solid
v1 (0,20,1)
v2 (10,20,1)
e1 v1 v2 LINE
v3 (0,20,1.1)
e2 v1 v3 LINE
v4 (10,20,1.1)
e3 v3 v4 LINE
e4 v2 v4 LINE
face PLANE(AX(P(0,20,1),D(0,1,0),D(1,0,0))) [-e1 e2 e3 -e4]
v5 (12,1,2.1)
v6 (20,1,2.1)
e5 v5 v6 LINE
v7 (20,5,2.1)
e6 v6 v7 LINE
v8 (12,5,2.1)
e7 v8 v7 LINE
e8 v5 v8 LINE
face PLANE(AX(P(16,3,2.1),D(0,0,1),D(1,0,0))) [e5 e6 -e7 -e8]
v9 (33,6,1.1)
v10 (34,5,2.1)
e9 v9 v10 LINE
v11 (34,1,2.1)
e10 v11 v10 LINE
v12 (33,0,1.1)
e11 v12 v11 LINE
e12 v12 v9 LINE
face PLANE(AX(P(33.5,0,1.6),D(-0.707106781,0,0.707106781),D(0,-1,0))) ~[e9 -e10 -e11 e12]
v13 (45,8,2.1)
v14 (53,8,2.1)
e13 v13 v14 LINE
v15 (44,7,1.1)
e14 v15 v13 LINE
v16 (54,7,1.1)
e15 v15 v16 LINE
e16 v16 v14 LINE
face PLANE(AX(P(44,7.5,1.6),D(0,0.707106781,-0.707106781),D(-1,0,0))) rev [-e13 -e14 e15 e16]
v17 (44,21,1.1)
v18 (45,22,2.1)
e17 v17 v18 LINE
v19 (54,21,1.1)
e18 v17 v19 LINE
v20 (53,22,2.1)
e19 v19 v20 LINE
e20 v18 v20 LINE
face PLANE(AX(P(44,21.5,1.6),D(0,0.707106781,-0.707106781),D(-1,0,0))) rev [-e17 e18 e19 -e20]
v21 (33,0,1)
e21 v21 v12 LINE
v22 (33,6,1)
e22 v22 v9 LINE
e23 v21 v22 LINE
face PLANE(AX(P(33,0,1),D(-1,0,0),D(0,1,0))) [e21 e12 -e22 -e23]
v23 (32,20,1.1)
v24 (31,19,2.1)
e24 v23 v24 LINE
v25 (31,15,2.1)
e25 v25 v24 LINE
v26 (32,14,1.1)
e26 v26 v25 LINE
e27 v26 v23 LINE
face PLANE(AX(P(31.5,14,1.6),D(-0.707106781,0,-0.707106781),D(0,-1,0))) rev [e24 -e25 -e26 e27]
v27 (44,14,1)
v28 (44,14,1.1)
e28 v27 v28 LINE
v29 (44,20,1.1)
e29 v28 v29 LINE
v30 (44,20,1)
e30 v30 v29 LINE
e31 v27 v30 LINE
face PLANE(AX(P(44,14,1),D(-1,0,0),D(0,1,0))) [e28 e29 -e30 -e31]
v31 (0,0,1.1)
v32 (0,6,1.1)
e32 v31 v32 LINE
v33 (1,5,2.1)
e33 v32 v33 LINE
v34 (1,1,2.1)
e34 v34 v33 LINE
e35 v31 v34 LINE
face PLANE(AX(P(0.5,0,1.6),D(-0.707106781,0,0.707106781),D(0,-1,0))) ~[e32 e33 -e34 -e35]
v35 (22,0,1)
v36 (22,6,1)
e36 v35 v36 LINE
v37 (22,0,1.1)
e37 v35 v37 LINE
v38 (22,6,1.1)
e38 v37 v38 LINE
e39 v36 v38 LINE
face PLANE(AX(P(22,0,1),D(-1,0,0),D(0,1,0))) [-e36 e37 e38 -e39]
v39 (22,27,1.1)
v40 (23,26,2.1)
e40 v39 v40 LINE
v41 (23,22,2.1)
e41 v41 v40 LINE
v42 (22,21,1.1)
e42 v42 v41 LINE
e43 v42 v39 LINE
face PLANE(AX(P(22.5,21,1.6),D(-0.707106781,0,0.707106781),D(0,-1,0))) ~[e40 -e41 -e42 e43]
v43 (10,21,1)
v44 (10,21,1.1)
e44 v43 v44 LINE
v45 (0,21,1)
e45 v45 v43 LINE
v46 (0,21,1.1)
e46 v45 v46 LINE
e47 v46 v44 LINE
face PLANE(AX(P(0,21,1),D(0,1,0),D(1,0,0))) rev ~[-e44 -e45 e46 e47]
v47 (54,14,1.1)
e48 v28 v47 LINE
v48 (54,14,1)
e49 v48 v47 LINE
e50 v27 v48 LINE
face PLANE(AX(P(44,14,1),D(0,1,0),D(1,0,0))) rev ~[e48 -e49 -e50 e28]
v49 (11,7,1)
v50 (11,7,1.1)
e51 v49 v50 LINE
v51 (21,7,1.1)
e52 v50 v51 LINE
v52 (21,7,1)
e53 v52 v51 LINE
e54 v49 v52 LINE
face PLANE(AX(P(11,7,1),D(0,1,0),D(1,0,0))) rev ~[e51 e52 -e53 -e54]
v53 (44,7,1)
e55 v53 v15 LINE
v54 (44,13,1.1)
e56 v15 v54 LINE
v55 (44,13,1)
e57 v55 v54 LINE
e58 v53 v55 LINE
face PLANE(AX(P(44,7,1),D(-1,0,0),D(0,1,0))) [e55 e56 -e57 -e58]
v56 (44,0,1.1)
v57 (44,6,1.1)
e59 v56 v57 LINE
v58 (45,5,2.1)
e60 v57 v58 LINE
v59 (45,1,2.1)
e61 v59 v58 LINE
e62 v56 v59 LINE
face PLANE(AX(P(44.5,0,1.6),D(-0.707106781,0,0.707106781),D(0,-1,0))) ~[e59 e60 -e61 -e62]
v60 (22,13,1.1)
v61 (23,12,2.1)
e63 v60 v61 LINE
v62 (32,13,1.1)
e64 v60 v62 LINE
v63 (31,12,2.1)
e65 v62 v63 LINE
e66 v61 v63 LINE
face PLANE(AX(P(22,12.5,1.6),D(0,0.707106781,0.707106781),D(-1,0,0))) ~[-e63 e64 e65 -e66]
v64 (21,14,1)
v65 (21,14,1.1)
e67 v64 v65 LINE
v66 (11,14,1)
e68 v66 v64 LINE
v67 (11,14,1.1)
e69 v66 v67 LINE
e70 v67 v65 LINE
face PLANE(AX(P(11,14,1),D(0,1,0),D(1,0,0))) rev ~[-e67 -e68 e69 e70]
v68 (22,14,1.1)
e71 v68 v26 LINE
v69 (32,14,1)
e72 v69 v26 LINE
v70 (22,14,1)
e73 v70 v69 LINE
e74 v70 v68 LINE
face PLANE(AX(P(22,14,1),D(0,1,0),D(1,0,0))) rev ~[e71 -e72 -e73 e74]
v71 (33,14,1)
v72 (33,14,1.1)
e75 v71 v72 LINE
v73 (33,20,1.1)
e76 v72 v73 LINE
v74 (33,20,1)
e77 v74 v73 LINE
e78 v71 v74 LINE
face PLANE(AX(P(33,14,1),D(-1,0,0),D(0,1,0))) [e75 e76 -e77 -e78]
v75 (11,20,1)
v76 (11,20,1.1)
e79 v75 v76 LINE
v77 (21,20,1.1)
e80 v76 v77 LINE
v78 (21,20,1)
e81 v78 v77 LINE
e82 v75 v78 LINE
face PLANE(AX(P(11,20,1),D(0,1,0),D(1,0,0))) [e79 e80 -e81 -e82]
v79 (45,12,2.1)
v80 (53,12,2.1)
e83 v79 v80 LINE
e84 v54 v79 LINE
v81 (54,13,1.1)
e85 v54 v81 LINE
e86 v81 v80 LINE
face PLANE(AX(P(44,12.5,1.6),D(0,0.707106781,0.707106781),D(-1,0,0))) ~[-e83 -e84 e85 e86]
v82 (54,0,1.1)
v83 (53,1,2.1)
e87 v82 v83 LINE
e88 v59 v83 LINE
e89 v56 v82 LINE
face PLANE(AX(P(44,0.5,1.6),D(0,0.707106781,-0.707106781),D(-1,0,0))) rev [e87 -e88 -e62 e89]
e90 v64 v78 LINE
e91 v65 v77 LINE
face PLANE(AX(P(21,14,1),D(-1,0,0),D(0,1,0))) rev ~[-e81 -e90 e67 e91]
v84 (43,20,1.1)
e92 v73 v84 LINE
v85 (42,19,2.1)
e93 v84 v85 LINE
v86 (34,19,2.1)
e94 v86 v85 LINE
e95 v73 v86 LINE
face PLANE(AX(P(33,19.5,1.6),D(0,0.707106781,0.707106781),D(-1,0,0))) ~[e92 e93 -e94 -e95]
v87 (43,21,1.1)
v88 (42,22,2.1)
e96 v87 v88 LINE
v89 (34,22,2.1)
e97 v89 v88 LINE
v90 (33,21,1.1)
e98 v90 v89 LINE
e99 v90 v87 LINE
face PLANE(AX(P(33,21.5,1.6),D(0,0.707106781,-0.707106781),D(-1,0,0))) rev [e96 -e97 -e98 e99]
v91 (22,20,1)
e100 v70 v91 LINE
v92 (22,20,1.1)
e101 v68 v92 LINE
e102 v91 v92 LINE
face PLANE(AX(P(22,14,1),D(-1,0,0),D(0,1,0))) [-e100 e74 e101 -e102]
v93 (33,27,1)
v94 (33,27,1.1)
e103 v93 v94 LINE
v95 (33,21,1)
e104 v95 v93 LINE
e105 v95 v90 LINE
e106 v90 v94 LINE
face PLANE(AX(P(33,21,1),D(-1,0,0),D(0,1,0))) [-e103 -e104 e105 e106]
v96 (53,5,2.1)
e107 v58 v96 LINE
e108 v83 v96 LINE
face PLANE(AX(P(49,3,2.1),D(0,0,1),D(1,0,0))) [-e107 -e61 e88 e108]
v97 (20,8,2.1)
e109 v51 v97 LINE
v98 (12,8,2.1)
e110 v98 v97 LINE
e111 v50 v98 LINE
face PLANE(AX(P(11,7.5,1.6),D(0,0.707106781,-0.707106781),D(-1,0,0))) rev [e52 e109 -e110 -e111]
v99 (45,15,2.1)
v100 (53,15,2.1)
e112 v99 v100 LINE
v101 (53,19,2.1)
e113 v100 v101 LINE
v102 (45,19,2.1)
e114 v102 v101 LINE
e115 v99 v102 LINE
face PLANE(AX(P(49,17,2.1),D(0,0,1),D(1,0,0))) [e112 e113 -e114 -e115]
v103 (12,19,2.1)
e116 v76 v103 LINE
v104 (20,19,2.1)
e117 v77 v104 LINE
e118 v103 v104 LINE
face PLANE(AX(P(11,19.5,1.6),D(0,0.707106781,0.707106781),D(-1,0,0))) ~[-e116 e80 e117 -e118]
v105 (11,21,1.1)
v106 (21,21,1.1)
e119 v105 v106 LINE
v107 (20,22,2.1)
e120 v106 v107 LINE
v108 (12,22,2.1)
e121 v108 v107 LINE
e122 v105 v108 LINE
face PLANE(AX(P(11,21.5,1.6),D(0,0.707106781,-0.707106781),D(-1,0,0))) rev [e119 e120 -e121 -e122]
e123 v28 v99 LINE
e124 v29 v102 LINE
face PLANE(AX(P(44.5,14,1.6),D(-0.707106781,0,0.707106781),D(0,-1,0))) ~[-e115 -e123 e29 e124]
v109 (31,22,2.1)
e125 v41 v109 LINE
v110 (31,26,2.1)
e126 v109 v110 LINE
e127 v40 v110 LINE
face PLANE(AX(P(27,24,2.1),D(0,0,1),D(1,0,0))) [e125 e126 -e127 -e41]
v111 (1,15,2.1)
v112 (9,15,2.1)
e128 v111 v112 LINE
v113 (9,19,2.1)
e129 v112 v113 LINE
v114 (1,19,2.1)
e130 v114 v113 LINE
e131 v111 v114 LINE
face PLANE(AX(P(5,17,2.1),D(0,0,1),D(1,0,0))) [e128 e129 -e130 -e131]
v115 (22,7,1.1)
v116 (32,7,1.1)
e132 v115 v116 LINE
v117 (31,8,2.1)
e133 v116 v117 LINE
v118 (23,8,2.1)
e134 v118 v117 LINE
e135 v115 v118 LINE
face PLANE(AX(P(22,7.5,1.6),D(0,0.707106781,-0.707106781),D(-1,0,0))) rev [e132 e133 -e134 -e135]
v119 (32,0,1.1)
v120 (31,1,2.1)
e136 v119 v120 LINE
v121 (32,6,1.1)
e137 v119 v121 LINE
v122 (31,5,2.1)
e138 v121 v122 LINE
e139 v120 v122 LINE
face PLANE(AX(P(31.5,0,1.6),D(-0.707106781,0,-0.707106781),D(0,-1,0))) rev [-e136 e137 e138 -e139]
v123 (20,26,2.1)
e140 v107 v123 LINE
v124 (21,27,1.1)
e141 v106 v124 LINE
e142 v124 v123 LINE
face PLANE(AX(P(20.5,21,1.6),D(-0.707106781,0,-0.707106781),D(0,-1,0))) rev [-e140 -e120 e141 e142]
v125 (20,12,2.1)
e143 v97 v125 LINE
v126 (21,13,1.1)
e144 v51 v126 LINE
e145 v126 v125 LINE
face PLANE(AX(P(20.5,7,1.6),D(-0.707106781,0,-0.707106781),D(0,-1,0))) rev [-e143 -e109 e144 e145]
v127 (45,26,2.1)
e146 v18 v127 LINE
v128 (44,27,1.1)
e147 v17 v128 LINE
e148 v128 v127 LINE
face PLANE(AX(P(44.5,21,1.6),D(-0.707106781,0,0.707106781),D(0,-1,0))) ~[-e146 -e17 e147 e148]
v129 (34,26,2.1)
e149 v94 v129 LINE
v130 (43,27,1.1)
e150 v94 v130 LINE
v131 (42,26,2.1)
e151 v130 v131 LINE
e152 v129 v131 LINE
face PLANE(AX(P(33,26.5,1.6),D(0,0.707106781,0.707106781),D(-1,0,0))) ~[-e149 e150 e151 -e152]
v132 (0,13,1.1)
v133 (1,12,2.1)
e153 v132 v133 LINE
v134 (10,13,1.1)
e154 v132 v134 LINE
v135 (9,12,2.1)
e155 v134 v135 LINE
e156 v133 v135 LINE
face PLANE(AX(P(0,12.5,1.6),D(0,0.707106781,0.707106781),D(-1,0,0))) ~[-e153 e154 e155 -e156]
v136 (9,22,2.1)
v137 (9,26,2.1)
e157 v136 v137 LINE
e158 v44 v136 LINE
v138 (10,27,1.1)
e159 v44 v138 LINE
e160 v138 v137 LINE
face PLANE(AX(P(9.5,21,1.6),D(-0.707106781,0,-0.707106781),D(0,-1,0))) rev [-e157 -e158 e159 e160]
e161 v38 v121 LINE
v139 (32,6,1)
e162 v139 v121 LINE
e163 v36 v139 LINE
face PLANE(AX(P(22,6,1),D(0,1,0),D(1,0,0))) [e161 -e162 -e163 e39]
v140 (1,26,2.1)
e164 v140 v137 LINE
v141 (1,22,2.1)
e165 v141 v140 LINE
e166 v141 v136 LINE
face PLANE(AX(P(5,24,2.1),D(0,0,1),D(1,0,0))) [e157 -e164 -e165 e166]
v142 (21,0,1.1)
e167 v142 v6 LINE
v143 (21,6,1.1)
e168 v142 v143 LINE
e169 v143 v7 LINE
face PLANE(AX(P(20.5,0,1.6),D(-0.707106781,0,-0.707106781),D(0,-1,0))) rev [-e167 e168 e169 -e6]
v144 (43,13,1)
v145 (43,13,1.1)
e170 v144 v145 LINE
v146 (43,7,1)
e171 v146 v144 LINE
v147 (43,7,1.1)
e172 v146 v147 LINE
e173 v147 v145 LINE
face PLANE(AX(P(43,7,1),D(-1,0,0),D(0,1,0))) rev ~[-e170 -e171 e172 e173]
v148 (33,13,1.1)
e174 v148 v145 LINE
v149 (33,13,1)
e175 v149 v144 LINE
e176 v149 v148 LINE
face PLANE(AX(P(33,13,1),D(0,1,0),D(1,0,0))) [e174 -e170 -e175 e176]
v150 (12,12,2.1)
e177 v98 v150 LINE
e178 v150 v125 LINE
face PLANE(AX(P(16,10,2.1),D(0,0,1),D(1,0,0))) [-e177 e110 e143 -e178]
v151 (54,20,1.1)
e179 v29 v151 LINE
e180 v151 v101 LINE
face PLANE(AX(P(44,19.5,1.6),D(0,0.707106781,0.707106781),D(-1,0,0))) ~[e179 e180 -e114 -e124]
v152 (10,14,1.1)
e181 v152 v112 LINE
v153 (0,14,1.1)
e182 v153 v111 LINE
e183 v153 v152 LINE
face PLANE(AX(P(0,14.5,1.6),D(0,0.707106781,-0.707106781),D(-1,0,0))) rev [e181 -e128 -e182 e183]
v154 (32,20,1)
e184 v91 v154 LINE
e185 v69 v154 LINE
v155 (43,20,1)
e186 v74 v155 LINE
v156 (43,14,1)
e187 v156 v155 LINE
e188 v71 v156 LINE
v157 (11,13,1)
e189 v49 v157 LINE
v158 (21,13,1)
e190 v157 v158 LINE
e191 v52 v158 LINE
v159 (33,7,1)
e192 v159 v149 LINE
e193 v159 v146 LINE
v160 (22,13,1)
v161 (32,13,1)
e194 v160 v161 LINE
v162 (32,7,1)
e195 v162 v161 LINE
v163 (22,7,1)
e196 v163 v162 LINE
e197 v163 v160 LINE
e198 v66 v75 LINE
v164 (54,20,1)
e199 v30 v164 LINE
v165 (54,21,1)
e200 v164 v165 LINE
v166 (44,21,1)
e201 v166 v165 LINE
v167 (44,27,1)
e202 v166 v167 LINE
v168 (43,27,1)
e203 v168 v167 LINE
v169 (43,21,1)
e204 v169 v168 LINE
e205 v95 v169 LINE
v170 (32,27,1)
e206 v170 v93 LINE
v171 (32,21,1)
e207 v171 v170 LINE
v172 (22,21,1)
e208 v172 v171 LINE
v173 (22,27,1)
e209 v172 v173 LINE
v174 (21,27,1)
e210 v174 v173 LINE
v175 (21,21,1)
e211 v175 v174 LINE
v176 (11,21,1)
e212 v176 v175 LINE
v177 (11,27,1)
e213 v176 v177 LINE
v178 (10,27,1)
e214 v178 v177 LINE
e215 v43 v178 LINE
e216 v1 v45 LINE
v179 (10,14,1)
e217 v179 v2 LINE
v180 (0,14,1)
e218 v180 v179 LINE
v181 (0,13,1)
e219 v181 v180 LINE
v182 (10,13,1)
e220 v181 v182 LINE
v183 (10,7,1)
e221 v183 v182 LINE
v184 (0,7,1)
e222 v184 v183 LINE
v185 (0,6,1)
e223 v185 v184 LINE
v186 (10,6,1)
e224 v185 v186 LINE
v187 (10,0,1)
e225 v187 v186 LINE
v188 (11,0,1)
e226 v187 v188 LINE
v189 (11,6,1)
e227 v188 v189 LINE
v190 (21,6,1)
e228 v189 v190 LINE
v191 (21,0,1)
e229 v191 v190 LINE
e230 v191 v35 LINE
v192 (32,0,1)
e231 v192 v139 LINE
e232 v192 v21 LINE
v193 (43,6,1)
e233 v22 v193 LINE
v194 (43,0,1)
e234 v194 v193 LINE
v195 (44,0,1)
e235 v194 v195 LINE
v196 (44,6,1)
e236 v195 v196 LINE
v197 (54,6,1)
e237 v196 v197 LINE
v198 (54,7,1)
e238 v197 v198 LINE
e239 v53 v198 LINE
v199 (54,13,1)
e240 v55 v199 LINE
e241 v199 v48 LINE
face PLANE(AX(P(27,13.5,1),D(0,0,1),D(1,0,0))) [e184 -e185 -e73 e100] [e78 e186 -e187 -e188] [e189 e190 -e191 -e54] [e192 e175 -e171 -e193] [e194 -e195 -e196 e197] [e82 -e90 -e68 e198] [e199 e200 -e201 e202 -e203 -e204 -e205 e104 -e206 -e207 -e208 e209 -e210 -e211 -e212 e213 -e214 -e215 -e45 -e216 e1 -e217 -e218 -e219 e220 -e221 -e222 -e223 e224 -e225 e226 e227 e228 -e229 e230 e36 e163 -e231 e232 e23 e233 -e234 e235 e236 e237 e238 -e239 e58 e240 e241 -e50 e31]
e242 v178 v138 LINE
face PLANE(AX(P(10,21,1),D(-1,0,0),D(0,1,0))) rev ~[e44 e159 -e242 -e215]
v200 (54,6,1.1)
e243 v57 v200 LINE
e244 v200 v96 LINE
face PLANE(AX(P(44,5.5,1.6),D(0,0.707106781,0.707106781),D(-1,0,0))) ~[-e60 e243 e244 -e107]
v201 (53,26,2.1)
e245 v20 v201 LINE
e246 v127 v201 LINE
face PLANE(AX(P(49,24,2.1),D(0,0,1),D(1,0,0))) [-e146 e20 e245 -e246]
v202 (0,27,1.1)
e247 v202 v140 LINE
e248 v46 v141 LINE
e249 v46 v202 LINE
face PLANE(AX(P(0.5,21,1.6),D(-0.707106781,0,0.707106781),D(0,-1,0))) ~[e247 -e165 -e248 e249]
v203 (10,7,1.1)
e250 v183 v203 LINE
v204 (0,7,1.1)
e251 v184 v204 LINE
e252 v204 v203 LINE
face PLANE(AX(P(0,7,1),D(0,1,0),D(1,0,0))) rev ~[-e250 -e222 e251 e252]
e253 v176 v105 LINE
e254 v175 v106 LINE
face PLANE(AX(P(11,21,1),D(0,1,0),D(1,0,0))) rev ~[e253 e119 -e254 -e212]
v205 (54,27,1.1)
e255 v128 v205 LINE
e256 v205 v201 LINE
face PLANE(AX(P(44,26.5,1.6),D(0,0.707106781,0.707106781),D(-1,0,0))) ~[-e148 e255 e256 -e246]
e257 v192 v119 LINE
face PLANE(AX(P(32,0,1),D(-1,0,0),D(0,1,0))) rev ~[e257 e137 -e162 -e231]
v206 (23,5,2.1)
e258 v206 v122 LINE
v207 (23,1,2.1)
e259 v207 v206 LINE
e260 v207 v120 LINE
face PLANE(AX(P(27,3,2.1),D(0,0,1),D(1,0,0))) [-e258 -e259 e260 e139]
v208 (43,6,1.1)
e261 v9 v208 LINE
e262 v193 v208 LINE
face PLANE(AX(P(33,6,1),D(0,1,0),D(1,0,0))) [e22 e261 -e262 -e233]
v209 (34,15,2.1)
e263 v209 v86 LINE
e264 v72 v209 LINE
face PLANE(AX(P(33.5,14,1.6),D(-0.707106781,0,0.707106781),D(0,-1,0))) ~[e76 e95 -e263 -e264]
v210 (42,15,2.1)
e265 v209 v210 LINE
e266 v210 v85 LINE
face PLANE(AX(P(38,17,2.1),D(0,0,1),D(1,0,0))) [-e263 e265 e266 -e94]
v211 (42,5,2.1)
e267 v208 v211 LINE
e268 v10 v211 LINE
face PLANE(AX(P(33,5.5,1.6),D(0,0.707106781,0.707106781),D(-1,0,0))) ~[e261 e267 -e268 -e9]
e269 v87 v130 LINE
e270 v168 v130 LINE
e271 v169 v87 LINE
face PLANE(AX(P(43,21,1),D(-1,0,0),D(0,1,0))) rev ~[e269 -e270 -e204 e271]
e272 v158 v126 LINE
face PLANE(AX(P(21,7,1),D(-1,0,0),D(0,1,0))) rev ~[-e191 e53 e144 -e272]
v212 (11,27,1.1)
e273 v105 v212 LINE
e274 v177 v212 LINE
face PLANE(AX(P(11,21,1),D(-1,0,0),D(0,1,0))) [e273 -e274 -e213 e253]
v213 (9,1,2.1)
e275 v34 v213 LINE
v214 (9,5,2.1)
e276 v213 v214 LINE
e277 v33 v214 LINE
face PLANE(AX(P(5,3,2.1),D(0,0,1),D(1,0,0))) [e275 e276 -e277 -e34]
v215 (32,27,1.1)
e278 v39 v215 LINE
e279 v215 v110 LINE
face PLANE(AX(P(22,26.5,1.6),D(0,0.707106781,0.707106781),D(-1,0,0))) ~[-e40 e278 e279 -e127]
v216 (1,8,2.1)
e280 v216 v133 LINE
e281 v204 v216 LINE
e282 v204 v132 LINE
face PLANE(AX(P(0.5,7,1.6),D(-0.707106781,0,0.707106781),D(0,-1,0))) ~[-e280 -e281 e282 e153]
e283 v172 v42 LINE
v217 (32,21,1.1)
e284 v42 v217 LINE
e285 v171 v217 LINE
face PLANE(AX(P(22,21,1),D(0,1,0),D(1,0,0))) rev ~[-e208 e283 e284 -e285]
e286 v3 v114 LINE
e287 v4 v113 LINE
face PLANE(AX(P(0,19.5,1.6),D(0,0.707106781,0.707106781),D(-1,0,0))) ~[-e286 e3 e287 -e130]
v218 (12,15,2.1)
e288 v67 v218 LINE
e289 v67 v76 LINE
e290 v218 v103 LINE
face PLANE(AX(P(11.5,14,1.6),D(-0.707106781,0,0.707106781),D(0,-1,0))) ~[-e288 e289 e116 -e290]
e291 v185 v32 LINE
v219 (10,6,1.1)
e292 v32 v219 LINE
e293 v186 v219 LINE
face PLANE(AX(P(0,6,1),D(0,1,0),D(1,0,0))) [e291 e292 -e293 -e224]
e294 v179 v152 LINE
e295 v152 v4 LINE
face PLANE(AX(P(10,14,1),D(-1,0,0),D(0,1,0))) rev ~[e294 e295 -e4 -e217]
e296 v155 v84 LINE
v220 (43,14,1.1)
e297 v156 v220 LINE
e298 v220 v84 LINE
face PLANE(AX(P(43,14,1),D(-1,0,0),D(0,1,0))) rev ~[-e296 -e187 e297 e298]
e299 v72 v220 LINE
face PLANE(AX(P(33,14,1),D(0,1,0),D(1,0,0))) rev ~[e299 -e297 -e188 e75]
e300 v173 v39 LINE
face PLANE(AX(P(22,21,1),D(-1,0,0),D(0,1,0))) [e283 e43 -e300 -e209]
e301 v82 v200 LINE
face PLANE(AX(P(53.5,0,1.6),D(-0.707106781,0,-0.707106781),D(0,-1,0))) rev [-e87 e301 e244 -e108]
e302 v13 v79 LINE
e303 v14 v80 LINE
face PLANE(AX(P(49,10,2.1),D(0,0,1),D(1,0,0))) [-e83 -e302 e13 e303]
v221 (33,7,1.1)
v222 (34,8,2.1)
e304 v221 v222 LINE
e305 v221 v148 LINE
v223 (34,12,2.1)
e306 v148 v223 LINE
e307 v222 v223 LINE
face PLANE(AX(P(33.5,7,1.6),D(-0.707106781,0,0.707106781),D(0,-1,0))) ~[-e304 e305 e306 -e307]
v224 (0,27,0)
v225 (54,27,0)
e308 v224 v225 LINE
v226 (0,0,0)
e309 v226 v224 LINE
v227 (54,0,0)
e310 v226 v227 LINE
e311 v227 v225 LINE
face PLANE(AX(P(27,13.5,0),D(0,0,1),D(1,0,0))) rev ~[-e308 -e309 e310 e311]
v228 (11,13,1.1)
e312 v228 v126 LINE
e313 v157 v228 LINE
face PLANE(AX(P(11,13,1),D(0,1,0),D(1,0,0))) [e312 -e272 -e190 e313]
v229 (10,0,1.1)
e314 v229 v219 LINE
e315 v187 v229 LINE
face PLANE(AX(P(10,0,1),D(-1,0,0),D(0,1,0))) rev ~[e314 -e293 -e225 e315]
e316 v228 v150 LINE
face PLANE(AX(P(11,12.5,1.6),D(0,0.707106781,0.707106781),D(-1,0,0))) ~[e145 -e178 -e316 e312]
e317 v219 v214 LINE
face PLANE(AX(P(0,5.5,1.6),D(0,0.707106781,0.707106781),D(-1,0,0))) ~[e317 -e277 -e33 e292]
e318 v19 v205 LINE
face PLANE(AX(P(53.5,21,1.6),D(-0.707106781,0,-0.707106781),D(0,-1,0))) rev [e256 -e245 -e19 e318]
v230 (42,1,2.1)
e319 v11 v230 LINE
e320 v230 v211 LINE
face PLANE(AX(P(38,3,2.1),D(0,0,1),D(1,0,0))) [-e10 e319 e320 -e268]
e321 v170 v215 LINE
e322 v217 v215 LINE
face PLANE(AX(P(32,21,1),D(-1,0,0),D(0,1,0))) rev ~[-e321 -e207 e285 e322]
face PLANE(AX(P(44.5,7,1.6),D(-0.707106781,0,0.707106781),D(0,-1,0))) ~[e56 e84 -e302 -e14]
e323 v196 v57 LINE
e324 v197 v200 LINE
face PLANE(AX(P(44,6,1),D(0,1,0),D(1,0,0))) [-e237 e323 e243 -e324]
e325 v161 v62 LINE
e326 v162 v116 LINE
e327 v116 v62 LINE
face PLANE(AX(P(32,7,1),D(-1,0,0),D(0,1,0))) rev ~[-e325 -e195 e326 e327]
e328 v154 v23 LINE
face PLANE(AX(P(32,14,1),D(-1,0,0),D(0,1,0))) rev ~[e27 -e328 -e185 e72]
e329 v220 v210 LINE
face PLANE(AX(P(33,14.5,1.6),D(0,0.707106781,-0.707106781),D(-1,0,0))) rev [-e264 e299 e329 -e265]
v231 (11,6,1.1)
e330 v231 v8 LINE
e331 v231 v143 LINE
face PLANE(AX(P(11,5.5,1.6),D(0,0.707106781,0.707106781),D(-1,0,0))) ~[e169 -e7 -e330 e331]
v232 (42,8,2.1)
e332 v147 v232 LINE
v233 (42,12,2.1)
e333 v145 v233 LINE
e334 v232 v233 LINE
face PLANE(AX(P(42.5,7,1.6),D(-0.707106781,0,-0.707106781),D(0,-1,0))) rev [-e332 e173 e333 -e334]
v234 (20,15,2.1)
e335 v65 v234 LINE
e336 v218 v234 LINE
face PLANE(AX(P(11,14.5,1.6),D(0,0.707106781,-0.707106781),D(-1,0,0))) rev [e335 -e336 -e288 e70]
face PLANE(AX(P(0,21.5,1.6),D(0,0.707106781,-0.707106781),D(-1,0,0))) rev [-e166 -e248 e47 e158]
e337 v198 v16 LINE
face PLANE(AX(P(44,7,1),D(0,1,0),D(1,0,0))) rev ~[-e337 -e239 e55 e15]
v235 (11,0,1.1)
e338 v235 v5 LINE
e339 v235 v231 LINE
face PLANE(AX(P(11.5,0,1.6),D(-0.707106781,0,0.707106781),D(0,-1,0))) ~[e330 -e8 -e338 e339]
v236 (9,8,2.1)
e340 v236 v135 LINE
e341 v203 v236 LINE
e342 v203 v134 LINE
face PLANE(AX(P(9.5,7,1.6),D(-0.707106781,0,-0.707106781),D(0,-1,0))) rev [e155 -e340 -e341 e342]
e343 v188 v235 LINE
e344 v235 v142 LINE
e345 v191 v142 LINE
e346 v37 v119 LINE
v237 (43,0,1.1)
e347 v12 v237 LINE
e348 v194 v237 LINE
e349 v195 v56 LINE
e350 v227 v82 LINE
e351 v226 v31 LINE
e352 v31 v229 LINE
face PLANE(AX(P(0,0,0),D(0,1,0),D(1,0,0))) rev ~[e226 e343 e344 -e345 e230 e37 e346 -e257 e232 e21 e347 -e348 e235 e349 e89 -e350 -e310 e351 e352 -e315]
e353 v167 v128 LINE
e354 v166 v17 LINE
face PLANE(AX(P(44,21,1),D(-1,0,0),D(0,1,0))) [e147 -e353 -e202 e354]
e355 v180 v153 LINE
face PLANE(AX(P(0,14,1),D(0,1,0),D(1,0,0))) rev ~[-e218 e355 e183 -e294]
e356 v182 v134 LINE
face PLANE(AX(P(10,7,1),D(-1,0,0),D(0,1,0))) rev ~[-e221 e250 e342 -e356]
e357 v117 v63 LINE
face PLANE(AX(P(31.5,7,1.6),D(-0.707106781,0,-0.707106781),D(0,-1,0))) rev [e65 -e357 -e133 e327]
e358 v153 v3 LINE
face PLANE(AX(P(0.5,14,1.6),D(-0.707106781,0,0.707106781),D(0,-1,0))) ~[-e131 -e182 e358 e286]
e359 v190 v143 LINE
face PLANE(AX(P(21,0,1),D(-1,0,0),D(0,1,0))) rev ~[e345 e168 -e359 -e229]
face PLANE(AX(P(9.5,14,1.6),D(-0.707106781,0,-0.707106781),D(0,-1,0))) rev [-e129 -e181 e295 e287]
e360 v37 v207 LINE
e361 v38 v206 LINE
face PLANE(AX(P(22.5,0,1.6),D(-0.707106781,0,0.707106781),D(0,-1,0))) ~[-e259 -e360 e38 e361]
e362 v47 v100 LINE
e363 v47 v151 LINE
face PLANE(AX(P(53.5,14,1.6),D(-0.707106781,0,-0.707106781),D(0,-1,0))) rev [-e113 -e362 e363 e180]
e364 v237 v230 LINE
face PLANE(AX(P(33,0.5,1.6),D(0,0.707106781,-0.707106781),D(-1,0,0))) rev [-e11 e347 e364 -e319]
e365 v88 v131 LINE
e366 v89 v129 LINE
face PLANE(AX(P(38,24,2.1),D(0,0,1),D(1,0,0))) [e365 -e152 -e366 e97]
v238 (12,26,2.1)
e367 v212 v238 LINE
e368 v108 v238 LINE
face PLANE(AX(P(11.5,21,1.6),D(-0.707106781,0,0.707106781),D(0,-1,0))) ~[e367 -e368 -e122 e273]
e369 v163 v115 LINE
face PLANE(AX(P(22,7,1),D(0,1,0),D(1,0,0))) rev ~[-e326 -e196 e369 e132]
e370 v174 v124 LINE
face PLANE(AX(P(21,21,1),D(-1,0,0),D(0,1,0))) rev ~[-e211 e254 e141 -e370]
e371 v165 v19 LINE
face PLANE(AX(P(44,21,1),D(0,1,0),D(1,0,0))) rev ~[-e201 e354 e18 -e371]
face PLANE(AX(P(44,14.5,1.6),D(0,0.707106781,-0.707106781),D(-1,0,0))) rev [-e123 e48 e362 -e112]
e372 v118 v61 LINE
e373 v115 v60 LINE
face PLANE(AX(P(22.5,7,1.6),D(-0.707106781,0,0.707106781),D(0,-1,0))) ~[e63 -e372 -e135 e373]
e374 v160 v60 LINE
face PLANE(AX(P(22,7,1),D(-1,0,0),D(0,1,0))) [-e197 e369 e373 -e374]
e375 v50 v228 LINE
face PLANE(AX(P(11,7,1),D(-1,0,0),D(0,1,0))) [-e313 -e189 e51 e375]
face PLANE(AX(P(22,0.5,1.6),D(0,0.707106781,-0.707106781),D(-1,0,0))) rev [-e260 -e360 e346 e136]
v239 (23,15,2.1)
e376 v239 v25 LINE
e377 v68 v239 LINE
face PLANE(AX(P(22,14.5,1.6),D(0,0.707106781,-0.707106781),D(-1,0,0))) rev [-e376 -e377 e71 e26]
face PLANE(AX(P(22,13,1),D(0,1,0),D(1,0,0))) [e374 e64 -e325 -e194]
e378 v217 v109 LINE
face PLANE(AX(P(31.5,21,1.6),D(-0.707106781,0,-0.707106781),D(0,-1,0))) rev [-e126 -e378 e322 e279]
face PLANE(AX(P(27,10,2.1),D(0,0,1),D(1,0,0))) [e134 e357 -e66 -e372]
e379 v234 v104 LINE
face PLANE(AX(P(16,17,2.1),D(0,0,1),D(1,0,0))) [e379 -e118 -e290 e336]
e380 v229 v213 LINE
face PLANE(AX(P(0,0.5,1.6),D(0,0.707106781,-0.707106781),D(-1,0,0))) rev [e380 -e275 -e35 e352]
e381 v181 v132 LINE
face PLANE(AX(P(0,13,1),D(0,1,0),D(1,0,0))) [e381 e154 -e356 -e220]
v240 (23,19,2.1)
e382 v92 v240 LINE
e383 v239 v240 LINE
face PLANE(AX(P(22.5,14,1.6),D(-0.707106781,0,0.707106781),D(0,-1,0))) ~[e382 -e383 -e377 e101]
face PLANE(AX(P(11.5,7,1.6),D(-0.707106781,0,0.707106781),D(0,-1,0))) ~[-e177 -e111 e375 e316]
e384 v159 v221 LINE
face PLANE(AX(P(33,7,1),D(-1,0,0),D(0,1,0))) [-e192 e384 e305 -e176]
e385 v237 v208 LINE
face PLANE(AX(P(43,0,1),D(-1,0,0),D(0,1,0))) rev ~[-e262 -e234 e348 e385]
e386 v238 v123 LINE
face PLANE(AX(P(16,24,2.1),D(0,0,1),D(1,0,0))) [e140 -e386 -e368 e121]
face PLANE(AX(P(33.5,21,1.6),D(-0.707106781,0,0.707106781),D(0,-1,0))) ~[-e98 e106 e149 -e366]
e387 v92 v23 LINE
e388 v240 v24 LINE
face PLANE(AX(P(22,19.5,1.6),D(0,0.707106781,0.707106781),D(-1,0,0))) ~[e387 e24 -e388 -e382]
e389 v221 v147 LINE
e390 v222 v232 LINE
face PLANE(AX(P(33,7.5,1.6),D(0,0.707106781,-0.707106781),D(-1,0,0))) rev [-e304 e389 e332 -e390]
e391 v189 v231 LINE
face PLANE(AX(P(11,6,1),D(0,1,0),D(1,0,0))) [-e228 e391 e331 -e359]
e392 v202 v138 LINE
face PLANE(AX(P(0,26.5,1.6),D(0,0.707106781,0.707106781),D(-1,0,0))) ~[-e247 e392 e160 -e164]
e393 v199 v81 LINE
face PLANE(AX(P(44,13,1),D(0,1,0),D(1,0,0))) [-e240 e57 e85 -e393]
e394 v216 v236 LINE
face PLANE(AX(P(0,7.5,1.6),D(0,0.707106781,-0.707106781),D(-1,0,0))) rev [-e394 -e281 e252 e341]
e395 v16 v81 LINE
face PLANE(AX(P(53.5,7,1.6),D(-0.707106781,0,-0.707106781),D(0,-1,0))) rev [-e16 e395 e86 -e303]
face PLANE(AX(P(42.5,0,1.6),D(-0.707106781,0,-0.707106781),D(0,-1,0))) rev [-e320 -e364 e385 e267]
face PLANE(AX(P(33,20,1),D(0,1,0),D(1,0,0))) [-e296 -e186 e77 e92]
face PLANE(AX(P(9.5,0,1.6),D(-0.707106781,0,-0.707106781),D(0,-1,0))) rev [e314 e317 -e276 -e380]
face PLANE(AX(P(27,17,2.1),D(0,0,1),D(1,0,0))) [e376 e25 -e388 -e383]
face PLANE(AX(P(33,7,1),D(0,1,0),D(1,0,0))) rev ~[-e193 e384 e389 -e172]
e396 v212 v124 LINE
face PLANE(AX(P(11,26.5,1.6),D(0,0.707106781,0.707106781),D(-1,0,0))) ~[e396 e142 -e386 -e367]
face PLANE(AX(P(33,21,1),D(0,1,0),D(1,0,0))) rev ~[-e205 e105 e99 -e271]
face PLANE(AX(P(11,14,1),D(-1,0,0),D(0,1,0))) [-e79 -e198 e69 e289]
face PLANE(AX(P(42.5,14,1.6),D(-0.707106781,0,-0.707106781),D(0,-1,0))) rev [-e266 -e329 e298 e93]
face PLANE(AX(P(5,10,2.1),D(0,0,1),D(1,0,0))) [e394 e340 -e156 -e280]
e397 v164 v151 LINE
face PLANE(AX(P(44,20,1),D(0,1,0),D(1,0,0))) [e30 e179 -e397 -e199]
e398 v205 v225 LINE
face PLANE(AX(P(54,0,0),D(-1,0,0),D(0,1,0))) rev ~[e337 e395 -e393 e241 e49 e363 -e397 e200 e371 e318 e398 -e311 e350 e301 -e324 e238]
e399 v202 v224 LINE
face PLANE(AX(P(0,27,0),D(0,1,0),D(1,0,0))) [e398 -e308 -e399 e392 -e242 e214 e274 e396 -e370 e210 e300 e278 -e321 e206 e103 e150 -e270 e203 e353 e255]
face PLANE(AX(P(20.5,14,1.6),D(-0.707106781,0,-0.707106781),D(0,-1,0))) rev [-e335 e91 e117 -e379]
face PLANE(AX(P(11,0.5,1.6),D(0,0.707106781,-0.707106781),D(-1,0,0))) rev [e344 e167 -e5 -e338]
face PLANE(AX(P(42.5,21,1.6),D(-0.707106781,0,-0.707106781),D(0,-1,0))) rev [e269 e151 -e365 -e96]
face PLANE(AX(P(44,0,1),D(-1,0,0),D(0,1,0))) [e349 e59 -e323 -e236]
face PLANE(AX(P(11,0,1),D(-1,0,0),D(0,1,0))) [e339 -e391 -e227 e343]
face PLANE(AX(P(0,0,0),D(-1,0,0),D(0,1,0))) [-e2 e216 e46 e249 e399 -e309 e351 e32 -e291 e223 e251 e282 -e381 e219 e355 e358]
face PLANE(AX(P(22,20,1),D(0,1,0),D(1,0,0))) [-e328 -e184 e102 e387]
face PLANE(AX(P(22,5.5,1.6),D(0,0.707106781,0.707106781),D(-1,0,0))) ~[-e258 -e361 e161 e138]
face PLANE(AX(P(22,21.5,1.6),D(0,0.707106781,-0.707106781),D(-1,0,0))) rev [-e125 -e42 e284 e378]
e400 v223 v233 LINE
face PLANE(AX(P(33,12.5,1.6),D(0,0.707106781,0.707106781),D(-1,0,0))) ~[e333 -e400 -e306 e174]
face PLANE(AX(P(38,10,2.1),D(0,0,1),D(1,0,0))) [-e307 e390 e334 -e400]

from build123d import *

# Parameters (mm, degrees)
BOX001_W      = 54
BOX001_H      = 27
BOX001_DEPTH  = 1
BOX_W         = 10
BOX_H         = 6
BOX_DEPTH     = 1.1
CHAMFER_SIZE  = 1
ARRAY_X_COUNT = 5
ARRAY_X_PITCH = 11
ARRAY_Y_COUNT = 4
ARRAY_Y_PITCH = 7


with BuildPart() as cub_base:
    # Box001 → Box001 (new body)
    with BuildSketch(Plane.XY):
        with Locations((27, 13.5)):
            Rectangle(BOX001_W, BOX001_H)
    extrude(amount=BOX001_DEPTH)


with BuildPart() as fusion:
    # Box → Box (new body)
    with BuildSketch(Plane.XY):
        with Locations((5, 3)):
            Rectangle(BOX_W, BOX_H)
    extrude(amount=BOX_DEPTH)

    # Chamfer
    chamfer_edges = [fusion.edges().sort_by_distance(p)[0] for p in [
        (0, 3, 1.1),
        (10, 3, 1.1),
        (5, 0, 1.1),
        (5, 6, 1.1),
    ]]
    chamfer(chamfer_edges, length=CHAMFER_SIZE)

    # Array X: Fusion ×5


with BuildPart() as fusion_1:
    add(fusion.part)
    with Locations(*[(i * ARRAY_X_PITCH, 0, 0) for i in range(1, ARRAY_X_COUNT)]):
        add(fusion.part)

    # Array Y: Fusion ×4


with BuildPart() as fusion_2:
    add(fusion_1.part)
    with Locations(*[(0, i * ARRAY_Y_PITCH, 0) for i in range(1, ARRAY_Y_COUNT)]):
        add(fusion_1.part)


with BuildPart() as fusion_3:
    # Array placement: moved
    add(fusion_2.part.moved(Location((0, 0, 1))))

    # Fusion: union cub base
    add(cub_base.part)


solid = fusion_3.part
